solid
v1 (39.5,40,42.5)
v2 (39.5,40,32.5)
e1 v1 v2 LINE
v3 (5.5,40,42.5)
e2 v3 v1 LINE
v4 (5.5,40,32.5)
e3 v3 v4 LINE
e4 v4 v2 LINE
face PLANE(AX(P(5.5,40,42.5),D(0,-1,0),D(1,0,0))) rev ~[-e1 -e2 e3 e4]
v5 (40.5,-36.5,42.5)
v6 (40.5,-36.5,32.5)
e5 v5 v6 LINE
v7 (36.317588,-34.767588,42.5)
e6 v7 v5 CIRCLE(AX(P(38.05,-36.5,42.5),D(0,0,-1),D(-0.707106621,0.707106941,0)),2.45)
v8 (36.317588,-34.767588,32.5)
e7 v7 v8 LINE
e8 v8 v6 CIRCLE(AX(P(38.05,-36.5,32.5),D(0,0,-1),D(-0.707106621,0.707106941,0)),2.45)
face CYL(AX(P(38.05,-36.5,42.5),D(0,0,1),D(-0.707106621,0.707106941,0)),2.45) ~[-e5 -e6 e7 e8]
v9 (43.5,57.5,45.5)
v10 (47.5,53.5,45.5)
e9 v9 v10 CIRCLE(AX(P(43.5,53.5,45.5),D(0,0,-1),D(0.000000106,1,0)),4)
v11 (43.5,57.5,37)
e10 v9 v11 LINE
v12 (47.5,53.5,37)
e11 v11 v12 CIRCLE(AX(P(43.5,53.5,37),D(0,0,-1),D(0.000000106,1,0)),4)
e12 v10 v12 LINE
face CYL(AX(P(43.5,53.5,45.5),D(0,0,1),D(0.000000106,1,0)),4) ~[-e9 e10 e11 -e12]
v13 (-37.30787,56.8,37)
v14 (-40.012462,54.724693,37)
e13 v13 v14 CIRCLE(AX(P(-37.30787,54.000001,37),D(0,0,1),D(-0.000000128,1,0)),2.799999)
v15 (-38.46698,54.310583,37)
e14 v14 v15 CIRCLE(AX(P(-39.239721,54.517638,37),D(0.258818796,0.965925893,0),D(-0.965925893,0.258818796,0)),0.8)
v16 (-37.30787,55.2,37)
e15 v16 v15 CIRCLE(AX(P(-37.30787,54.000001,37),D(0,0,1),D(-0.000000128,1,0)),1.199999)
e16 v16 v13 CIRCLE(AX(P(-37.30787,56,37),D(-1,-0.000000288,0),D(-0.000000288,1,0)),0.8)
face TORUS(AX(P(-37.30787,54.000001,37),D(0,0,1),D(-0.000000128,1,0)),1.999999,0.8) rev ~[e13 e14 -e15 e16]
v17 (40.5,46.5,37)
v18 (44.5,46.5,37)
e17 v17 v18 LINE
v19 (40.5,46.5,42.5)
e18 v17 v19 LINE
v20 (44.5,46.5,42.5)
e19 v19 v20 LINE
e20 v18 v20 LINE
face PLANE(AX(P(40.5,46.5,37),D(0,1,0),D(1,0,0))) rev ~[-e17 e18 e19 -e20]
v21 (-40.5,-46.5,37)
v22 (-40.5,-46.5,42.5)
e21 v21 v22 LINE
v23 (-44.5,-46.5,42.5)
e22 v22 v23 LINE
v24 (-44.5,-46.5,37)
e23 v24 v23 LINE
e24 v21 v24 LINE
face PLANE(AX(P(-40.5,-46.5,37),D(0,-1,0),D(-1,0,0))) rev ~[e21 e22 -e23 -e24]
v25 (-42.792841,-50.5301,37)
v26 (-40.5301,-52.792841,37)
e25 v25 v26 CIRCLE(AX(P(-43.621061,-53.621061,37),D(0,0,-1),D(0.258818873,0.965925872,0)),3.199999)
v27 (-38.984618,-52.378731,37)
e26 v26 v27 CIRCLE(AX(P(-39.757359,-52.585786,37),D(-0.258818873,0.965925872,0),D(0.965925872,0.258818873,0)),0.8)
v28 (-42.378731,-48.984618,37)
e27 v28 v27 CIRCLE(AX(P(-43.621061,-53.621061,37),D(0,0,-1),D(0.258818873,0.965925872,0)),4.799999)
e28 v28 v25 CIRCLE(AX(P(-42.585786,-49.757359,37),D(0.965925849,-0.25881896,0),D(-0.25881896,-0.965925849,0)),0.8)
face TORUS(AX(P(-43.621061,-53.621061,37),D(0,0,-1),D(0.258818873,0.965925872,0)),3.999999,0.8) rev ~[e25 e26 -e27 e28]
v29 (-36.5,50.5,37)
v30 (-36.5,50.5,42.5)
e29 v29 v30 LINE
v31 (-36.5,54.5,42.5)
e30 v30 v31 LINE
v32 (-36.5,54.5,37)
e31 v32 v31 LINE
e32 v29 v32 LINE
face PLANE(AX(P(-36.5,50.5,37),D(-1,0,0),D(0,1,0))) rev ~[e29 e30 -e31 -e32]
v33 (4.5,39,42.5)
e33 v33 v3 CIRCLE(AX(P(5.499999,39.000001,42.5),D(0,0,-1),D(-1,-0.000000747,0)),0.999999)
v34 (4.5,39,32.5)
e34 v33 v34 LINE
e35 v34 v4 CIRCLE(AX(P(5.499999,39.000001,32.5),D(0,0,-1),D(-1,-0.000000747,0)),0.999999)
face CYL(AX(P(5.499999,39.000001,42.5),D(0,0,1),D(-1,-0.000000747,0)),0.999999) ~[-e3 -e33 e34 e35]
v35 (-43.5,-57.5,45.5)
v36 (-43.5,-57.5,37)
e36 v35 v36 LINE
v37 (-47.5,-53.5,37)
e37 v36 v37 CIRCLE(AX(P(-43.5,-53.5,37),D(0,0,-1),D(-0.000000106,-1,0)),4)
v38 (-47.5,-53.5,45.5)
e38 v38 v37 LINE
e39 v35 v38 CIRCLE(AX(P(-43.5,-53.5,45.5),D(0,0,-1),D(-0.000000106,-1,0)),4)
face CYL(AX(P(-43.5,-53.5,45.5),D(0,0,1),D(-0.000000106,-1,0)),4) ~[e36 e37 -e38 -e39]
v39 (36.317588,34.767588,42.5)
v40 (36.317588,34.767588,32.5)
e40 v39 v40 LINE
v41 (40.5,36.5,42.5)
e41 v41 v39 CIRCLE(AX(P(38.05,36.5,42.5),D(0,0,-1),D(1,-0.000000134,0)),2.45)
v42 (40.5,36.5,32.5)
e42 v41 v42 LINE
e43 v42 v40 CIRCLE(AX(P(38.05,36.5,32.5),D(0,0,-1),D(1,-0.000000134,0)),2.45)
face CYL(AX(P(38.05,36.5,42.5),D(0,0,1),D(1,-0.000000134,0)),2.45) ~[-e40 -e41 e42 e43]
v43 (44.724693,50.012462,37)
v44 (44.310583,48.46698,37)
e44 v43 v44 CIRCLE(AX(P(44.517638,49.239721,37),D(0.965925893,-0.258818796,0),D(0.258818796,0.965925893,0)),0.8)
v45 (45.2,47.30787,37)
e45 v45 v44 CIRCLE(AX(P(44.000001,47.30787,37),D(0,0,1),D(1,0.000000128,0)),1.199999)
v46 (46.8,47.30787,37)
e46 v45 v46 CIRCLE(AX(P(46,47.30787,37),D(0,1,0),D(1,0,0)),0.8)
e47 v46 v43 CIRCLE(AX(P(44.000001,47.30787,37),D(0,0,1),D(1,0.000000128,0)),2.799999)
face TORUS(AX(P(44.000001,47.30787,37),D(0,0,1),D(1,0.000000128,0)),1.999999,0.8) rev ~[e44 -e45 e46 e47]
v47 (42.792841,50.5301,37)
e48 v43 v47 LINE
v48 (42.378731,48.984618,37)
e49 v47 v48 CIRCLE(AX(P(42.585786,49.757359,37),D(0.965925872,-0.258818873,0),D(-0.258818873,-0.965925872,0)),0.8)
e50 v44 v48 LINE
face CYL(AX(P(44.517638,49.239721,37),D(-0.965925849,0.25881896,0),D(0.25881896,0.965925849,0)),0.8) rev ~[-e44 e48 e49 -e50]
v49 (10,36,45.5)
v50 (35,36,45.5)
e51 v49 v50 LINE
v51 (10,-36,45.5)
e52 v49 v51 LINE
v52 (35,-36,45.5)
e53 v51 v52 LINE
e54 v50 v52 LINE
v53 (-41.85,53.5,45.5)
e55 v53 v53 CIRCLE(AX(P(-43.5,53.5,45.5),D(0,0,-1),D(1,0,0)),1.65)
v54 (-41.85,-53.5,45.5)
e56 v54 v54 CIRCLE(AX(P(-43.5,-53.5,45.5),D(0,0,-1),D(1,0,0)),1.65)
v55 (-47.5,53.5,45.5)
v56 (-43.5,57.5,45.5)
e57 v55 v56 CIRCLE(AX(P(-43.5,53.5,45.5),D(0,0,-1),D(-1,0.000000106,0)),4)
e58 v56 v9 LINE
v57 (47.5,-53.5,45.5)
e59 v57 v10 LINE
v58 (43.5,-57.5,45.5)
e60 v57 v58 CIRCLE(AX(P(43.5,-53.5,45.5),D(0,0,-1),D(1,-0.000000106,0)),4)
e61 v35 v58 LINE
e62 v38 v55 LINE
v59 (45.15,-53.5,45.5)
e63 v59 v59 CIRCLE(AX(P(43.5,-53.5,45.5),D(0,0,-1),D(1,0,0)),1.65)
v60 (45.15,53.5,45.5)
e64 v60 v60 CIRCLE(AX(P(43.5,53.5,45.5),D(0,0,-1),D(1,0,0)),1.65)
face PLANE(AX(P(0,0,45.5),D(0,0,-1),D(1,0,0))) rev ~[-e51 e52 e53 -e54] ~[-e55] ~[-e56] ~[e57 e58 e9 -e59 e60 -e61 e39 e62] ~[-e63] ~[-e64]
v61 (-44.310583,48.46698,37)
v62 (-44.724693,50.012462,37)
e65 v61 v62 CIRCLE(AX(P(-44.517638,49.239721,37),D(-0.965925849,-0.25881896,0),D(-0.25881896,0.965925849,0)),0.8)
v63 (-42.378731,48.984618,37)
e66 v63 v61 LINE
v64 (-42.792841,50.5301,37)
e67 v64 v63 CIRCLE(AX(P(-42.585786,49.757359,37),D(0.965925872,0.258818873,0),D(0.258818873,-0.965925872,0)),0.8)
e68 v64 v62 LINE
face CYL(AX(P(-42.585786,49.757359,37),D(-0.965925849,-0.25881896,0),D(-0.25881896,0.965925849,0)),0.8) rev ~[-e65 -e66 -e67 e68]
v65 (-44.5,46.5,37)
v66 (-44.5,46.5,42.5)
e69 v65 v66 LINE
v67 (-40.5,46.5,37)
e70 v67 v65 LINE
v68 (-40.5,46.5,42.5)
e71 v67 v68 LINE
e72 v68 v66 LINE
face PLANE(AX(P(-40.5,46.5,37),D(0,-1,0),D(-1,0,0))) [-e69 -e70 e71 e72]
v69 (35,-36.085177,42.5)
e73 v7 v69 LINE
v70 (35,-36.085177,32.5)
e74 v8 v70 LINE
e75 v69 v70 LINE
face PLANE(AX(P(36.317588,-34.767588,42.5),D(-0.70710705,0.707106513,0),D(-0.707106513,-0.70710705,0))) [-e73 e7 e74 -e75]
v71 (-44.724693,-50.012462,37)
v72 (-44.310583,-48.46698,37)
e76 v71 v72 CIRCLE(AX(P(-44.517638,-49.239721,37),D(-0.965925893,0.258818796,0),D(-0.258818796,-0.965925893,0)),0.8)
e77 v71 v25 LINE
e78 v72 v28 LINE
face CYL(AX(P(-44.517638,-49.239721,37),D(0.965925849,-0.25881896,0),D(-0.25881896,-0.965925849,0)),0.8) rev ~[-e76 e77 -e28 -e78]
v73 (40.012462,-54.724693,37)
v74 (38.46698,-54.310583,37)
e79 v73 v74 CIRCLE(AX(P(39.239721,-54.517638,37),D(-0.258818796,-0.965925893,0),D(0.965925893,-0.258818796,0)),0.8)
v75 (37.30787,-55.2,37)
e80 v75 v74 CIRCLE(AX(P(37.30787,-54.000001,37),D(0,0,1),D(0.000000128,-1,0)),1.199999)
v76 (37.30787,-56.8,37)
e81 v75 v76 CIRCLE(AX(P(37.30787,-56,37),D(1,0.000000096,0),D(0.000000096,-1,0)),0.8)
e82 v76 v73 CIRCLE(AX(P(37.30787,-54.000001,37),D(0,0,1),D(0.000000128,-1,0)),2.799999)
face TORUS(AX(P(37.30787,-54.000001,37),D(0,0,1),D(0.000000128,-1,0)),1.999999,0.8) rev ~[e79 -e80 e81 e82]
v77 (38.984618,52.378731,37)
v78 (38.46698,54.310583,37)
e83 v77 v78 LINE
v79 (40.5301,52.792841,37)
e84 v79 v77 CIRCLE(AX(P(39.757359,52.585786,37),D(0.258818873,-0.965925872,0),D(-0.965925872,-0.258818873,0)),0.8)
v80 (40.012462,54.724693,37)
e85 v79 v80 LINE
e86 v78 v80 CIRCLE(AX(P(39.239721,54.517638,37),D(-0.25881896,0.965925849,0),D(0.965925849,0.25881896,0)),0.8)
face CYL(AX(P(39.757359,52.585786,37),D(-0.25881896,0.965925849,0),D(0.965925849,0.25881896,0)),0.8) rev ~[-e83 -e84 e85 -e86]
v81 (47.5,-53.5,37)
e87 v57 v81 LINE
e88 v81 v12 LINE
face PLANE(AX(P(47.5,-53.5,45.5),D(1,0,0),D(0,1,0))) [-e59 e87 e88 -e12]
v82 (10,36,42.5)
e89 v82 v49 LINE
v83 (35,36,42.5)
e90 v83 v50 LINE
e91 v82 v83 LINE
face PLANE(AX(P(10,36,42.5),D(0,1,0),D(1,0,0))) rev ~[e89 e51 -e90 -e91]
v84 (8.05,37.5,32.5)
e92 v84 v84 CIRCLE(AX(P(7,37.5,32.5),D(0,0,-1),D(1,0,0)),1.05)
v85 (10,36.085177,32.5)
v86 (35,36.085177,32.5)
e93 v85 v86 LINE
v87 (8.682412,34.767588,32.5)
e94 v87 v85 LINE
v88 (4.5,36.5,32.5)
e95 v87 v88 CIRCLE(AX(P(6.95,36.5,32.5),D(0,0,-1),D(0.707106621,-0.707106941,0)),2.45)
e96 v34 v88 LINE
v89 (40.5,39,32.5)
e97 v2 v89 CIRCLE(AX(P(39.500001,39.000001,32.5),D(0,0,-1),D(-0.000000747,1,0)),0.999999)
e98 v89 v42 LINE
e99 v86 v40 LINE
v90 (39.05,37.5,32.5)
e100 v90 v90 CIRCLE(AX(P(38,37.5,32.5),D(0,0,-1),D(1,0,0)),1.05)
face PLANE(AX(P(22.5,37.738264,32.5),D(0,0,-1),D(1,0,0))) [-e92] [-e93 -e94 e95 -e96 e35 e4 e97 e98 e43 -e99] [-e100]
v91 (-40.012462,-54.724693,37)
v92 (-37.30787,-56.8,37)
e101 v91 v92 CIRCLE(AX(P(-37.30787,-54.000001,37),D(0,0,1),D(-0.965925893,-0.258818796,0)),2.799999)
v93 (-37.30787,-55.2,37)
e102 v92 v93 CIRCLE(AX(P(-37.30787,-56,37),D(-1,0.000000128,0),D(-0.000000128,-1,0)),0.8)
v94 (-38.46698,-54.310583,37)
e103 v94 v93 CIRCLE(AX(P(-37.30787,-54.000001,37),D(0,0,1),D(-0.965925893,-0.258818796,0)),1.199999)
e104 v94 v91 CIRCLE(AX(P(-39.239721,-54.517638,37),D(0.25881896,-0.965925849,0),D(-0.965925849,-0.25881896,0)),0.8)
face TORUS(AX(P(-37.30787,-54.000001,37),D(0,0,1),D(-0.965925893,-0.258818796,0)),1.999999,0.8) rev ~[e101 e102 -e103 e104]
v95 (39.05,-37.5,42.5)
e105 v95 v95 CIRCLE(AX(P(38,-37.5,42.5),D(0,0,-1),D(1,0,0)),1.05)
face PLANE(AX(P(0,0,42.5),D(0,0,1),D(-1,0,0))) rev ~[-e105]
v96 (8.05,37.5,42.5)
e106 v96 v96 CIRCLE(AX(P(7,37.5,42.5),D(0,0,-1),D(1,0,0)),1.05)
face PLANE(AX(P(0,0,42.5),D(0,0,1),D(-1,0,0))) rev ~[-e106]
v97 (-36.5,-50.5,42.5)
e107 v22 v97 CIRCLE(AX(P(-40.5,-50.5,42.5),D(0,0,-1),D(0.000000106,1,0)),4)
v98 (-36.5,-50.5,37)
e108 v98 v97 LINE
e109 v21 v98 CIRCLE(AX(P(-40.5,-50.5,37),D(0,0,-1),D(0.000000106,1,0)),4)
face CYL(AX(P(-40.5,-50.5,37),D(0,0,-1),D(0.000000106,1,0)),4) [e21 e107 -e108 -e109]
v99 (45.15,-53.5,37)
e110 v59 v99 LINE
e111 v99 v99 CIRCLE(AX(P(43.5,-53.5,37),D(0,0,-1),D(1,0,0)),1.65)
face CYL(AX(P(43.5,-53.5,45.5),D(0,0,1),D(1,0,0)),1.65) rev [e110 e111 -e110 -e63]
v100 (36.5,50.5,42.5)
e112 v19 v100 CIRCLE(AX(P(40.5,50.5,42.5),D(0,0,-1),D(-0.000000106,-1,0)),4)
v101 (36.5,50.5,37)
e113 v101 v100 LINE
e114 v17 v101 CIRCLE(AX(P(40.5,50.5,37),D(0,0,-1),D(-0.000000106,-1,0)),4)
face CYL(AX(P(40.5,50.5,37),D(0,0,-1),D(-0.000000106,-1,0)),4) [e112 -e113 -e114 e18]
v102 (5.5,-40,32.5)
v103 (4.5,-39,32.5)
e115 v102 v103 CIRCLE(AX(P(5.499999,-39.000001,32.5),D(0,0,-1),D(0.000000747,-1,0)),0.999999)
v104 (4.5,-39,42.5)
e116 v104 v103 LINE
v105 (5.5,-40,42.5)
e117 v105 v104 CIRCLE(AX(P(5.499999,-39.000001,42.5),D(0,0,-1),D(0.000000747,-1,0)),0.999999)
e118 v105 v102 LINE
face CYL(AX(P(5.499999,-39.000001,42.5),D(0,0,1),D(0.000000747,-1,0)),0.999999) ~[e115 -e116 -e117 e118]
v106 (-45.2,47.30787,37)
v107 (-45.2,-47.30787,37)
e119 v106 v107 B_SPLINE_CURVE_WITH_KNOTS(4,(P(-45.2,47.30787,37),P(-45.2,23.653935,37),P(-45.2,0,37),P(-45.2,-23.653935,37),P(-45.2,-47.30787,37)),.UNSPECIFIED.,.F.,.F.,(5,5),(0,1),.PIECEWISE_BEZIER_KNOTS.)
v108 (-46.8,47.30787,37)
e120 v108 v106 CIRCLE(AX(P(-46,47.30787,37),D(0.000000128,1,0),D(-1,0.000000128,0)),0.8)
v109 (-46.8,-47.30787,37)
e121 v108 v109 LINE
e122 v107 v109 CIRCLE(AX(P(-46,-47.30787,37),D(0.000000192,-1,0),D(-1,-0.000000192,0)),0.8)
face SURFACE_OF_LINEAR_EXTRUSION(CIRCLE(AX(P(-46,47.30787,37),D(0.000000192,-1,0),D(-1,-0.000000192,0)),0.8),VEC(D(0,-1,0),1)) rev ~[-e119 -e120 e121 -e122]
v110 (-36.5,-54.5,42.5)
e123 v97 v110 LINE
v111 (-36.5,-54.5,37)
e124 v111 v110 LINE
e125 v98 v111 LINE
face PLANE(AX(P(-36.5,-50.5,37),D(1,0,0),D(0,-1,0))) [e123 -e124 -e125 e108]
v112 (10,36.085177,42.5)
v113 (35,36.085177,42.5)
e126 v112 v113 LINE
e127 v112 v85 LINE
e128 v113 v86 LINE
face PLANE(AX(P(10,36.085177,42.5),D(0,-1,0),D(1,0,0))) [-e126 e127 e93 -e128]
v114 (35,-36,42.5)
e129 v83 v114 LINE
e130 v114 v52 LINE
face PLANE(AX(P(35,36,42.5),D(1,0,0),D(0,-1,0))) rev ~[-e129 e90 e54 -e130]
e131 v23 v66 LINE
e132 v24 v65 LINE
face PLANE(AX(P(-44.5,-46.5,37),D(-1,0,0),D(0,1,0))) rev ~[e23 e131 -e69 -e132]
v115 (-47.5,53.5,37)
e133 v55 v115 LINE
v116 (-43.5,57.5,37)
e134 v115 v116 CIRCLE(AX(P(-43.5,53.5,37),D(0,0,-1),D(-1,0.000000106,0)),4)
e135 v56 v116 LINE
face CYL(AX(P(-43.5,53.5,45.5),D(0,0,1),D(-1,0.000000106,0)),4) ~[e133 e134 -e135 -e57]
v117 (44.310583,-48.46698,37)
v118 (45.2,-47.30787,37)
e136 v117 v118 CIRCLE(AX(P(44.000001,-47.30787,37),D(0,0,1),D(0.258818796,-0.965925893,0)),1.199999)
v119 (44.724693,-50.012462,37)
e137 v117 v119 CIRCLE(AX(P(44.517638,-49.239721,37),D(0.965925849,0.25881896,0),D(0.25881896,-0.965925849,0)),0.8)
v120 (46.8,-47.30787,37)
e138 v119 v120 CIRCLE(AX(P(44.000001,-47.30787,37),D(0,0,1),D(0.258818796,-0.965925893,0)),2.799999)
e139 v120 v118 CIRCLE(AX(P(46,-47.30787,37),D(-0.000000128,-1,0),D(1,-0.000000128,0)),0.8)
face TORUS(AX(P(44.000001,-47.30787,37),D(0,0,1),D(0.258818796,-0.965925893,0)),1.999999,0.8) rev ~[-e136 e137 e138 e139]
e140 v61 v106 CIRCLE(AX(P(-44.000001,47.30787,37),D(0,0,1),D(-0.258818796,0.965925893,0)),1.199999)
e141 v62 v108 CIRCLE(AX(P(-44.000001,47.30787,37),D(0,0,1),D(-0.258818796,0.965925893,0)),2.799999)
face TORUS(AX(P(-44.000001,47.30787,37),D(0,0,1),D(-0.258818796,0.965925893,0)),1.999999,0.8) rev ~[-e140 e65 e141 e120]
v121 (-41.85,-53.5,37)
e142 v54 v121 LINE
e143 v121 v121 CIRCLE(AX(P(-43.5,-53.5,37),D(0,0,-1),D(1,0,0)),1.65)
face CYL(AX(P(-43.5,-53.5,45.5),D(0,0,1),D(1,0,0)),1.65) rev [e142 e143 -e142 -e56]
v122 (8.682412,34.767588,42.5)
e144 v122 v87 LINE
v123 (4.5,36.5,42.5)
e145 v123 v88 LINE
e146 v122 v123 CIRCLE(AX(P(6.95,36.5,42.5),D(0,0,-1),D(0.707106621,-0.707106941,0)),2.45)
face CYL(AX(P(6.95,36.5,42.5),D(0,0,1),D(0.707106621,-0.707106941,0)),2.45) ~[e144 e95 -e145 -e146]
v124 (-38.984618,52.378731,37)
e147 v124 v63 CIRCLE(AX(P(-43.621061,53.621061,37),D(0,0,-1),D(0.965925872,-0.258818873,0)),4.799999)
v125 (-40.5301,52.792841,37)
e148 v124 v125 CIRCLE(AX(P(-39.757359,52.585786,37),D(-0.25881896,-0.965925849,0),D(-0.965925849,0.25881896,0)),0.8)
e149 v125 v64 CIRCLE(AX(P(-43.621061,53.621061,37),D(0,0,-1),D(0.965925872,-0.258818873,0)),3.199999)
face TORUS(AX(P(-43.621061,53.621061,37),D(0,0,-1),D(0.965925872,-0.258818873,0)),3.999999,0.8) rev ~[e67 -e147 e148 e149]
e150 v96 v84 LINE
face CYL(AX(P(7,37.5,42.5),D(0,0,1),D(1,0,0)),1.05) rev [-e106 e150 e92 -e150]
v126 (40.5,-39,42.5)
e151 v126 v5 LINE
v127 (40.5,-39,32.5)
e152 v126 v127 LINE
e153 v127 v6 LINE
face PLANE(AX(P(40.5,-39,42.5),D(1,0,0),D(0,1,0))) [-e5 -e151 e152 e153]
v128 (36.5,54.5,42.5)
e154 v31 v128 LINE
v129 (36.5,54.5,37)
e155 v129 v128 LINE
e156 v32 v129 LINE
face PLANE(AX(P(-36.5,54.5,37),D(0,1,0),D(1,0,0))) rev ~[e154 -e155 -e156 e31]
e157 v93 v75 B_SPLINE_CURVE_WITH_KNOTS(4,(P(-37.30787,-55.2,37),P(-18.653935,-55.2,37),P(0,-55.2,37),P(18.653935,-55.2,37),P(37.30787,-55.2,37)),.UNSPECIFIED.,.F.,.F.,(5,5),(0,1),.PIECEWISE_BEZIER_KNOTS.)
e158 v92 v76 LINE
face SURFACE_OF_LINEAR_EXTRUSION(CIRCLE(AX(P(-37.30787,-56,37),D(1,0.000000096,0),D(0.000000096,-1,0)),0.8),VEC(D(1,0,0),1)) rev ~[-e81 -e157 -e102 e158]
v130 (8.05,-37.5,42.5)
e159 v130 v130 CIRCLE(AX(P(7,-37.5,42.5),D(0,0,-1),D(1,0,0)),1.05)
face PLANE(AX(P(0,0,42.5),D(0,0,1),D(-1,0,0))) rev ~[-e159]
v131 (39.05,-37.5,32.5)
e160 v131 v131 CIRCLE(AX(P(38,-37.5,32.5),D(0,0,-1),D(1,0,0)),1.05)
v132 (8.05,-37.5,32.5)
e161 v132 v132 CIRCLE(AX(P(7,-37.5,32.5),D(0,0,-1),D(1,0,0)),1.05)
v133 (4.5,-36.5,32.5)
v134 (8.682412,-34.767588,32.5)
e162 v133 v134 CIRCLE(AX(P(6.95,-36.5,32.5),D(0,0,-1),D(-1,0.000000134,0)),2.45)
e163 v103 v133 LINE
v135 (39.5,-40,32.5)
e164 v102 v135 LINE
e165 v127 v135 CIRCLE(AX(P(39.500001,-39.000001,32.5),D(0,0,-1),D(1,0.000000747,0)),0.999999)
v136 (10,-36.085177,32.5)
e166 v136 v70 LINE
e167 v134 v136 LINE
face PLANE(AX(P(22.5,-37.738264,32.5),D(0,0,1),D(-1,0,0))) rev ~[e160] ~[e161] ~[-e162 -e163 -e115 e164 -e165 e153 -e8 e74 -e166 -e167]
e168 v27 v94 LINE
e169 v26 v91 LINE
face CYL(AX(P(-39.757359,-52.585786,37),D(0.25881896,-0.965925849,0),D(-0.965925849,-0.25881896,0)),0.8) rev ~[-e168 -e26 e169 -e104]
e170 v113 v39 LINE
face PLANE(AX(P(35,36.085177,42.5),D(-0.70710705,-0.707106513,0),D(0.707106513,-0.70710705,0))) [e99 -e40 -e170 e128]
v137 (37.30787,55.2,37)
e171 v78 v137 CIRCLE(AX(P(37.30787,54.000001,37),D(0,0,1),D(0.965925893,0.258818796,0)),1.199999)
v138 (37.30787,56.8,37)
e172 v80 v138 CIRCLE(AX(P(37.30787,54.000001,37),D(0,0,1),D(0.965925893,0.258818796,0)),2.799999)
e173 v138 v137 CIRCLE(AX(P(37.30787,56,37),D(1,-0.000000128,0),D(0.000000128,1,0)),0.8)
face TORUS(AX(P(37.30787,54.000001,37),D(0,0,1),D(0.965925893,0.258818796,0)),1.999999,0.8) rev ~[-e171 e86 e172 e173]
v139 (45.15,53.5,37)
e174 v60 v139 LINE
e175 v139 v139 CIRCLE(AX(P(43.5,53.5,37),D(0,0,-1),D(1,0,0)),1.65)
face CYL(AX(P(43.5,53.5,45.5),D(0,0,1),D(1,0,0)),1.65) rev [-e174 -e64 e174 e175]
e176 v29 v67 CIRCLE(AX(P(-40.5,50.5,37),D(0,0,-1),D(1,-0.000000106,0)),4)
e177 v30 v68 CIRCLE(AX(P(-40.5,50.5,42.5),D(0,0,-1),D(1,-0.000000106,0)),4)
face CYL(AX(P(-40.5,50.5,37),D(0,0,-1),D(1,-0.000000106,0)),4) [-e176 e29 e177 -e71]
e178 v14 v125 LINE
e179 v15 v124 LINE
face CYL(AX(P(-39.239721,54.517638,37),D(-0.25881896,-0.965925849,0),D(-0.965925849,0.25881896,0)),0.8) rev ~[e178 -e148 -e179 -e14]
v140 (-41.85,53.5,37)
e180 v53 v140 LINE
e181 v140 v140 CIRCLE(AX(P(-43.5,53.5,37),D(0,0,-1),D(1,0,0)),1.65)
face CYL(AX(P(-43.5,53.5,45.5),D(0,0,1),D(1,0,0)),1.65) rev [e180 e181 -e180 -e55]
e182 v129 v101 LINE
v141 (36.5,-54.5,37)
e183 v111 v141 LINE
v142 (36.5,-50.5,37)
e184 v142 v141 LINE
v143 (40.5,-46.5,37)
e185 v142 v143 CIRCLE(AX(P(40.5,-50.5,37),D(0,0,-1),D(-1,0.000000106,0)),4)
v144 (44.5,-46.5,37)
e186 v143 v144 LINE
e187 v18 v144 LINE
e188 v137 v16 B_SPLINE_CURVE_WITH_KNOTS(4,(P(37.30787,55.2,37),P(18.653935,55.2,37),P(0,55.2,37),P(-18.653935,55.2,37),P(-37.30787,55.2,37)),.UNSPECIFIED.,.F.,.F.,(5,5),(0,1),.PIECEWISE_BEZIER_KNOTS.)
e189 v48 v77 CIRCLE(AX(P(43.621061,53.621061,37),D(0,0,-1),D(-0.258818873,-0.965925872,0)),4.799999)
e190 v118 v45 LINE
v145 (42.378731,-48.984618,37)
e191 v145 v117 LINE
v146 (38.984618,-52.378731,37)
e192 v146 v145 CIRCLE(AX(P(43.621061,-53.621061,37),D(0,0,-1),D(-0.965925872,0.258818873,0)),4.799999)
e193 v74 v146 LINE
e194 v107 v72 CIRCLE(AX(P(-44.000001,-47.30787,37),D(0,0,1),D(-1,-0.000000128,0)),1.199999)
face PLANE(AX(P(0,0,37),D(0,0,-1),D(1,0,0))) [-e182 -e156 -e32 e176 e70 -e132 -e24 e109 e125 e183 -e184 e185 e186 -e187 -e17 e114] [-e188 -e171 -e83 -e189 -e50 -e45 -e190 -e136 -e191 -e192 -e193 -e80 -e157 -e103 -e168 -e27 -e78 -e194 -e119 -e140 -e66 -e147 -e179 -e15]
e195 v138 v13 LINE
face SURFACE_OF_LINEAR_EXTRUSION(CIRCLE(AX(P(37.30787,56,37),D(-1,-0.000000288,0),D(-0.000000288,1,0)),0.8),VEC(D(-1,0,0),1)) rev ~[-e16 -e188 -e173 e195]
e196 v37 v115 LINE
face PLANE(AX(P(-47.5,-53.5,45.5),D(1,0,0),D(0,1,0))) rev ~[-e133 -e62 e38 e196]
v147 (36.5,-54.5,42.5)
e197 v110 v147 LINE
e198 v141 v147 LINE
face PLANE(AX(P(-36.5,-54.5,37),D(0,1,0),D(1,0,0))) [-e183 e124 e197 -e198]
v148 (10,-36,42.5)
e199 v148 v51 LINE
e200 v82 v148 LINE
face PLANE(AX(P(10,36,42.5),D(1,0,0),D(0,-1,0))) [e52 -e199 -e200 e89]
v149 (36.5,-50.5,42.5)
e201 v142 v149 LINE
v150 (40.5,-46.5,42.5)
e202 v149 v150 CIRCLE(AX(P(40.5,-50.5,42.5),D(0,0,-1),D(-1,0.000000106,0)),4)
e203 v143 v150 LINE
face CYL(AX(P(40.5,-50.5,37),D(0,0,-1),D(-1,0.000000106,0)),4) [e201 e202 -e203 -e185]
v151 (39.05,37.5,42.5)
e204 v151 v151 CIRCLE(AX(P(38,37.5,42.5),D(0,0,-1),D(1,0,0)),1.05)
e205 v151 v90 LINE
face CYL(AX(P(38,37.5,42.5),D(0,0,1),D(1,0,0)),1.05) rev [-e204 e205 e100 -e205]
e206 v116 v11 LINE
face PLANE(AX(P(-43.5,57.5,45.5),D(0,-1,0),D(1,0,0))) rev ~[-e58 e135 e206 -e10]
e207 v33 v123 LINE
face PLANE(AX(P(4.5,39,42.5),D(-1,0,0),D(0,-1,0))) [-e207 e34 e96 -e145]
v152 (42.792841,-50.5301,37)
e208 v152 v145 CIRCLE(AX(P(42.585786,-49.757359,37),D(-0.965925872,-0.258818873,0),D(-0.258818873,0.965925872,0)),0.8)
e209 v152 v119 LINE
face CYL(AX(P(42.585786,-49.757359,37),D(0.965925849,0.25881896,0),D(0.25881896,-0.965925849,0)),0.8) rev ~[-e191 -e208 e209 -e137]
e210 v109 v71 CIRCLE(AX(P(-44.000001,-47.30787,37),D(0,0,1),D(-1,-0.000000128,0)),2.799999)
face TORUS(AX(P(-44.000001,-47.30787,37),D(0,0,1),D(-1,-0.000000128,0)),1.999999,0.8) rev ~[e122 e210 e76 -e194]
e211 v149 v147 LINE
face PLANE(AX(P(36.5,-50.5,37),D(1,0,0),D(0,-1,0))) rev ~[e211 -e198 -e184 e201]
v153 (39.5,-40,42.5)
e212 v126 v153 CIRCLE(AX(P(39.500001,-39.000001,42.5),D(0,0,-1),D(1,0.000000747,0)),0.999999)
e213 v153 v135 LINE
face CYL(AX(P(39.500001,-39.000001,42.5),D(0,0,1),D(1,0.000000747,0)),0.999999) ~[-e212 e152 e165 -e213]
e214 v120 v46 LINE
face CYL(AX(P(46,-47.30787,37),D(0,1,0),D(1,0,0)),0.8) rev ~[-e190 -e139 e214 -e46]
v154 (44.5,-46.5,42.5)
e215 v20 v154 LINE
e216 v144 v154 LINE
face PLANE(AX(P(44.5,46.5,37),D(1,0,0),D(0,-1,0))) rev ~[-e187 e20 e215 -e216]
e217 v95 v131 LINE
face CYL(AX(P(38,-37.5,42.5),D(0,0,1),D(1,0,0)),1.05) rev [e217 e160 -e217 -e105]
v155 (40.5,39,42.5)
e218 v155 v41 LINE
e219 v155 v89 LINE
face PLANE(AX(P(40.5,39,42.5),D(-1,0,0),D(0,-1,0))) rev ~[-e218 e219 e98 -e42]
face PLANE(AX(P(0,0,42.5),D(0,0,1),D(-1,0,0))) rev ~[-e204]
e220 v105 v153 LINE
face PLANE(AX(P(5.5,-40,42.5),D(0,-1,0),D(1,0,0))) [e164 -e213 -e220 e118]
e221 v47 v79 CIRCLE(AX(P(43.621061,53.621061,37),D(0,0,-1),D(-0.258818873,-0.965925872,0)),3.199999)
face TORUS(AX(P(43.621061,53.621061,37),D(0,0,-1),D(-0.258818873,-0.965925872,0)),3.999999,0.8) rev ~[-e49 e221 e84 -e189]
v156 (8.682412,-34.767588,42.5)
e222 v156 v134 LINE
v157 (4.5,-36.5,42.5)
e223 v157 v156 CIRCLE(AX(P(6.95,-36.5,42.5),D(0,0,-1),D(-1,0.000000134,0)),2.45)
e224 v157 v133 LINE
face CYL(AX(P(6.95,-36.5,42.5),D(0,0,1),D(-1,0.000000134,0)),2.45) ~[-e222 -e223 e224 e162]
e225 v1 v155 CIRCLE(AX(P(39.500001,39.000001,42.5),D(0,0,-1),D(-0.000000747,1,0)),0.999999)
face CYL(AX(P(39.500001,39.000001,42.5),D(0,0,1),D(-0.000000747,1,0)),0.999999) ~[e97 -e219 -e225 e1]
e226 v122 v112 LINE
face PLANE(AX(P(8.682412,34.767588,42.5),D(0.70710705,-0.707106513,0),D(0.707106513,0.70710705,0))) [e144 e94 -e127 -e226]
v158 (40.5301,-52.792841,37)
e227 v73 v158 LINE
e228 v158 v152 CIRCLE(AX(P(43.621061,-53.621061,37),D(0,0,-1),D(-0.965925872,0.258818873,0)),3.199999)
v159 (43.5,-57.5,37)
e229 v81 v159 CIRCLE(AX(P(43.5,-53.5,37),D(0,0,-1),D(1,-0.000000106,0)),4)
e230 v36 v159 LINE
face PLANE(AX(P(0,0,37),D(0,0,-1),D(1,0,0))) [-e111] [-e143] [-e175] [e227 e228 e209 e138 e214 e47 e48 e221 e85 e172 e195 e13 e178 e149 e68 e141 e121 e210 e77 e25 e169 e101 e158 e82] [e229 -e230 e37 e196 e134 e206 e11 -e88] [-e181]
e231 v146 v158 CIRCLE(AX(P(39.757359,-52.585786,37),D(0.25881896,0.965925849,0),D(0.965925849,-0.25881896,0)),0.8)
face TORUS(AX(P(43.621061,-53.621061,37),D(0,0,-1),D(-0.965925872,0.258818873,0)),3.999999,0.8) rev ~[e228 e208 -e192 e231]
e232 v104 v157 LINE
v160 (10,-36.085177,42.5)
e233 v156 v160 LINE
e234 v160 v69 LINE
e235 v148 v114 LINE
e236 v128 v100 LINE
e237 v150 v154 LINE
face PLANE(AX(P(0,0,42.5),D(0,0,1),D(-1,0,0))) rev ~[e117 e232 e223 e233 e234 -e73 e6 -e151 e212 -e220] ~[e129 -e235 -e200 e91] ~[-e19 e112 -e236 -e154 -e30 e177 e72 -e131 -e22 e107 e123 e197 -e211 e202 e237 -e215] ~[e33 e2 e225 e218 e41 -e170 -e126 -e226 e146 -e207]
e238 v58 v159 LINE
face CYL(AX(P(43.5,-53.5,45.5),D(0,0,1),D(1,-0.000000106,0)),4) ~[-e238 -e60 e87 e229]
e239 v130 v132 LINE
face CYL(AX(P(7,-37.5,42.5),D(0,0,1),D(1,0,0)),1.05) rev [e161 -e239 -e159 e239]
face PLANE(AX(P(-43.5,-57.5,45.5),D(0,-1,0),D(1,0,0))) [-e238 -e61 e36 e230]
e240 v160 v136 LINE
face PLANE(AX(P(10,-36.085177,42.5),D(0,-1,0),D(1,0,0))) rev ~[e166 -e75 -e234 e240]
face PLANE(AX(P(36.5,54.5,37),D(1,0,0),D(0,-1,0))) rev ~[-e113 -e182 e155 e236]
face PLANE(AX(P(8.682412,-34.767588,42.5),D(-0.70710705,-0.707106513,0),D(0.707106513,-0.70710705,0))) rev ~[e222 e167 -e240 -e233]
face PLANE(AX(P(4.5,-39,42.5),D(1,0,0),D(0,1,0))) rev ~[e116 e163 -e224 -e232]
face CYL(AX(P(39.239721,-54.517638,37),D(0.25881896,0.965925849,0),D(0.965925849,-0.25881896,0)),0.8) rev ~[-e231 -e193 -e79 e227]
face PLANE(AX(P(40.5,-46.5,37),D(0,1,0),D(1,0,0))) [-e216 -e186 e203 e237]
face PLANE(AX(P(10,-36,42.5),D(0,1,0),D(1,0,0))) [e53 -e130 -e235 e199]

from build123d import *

# Parameters (mm, degrees)
SKETCH005_R             = 1.65
PAD001_DEPTH            = 8.5
POCKET001_DEPTH         = 5.5
SKETCH008_R             = 0.8
SKETCH011_W             = 25
SKETCH011_H             = 72
POCKET003_DEPTH         = 6
SKETCH012_R             = 1.05
PAD003_DEPTH            = 10
BODY001_PLACEMENT_ANGLE = 180


with BuildPart() as part:
    # Sketch005 → Pad001 (new body)
    with BuildSketch(Plane.XY):
        with BuildLine():
            Line((-47.5, 53.5), (-47.5, -53.5))
            ThreePointArc((-47.5, -53.5), (-46.328427, -56.328427), (-43.5, -57.5))
            Line((-43.5, -57.5), (43.5, -57.5))
            ThreePointArc((43.5, -57.5), (46.328427, -56.328427), (47.5, -53.5))
            Line((47.5, 53.5), (47.5, -53.5))
            ThreePointArc((47.5, 53.5), (46.328427, 56.328427), (43.5, 57.5))
            Line((-43.5, 57.5), (43.5, 57.5))
            ThreePointArc((-43.5, 57.5), (-46.328427, 56.328427), (-47.5, 53.5))
        make_face()
        with Locations((-43.5, 53.5)):
            Circle(SKETCH005_R, mode=Mode.SUBTRACT)
        with Locations((43.5, -53.5)):
            Circle(SKETCH005_R, mode=Mode.SUBTRACT)
        with Locations((-43.5, -53.5)):
            Circle(SKETCH005_R, mode=Mode.SUBTRACT)
        with Locations((43.5, 53.5)):
            Circle(SKETCH005_R, mode=Mode.SUBTRACT)
    extrude(amount=PAD001_DEPTH)

    # Sketch006 (on Face14 of Pad001) → Pocket001 (cut)
    with BuildSketch(Plane.XY.offset(8.5)):
        with BuildLine():
            ThreePointArc((-40.5, 46.5), (-37.671573, 47.671573), (-36.5, 50.5))
            Line((-36.5, 50.5), (-36.5, 54.5))
            Line((-36.5, 54.5), (36.5, 54.5))
            Line((36.5, 50.5), (36.5, 54.5))
            ThreePointArc((36.5, 50.5), (37.671573, 47.671573), (40.5, 46.5))
            Line((40.5, 46.5), (44.5, 46.5))
            Line((44.5, -46.5), (44.5, 46.5))
            Line((40.5, -46.5), (44.5, -46.5))
            ThreePointArc((40.5, -46.5), (37.671573, -47.671573), (36.5, -50.5))
            Line((36.5, -54.5), (36.5, -50.5))
            Line((-36.5, -54.5), (36.5, -54.5))
            Line((-36.5, -50.5), (-36.5, -54.5))
            ThreePointArc((-36.5, -50.5), (-37.671573, -47.671573), (-40.5, -46.5))
            Line((-40.5, -46.5), (-44.5, -46.5))
            Line((-44.5, 46.5), (-44.5, -46.5))
            Line((-40.5, 46.5), (-44.5, 46.5))
        make_face()
    extrude(amount=-POCKET001_DEPTH, mode=Mode.SUBTRACT)

    # SubtractivePipe001: sweep along a path in Sketch007
    with BuildLine(Plane.XY) as subtractivepipe001_path:
        ThreePointArc((42.585786, -49.757359), (40.792635, -50.792635), (39.757359, -52.585786))
        Line((39.757359, -52.585786), (39.239721, -54.517638))
        ThreePointArc((39.239721, -54.517638), (38.525392, -55.586707), (37.30787, -56))
        Line((37.30787, -56), (-37.30787, -56))
        ThreePointArc((-37.30787, -56), (-38.525392, -55.586707), (-39.239721, -54.517638))
        Line((-39.239721, -54.517638), (-39.757359, -52.585786))
        ThreePointArc((-39.757359, -52.585786), (-40.792635, -50.792635), (-42.585786, -49.757359))
        Line((-42.585786, -49.757359), (-44.517638, -49.239721))
        ThreePointArc((-44.517638, -49.239721), (-45.586707, -48.525392), (-46, -47.30787))
        Line((-46, -47.30787), (-46, 47.30787))
        ThreePointArc((-46, 47.30787), (-45.586707, 48.525392), (-44.517638, 49.239721))
        Line((-44.517638, 49.239721), (-42.585786, 49.757359))
        ThreePointArc((-42.585786, 49.757359), (-40.792635, 50.792635), (-39.757359, 52.585786))
        Line((-39.757359, 52.585786), (-39.239721, 54.517638))
        ThreePointArc((-39.239721, 54.517638), (-38.525392, 55.586707), (-37.30787, 56))
        Line((-37.30787, 56), (37.30787, 56))
        ThreePointArc((37.30787, 56), (38.525392, 55.586707), (39.239721, 54.517638))
        Line((39.239721, 54.517638), (39.757359, 52.585786))
        ThreePointArc((39.757359, 52.585786), (40.792635, 50.792635), (42.585786, 49.757359))
        Line((42.585786, 49.757359), (44.517638, 49.239721))
        ThreePointArc((44.517638, 49.239721), (45.586707, 48.525392), (46, 47.30787))
        Line((46, 47.30787), (46, -47.30787))
        ThreePointArc((46, -47.30787), (45.586707, -48.525392), (44.517638, -49.239721))
        Line((44.517638, -49.239721), (42.585786, -49.757359))
    # Sketch008 → SubtractivePipe001 (sweep, cut)
    with BuildSketch(Plane.XZ):
        with Locations((46, 8.5)):
            Circle(SKETCH008_R)
    sweep(path=subtractivepipe001_path.line, mode=Mode.SUBTRACT)

    # Sketch011 (on Face56 of SubtractivePipe001) → Pocket003 (cut)
    with BuildSketch(Plane.XY.offset(3)):
        with Locations((22.5, 0)):
            Rectangle(SKETCH011_W, SKETCH011_H)
    extrude(amount=-POCKET003_DEPTH, mode=Mode.SUBTRACT)

    # Sketch012 (on Face43 of Pocket003) → Pad003 (join)
    with BuildSketch(Plane.XY.offset(3)):
        with BuildLine():
            Line((5.5, 40), (39.5, 40))
            ThreePointArc((40.5, 39), (40.207107, 39.707107), (39.5, 40))
            Line((40.5, 39), (40.5, 36.5))
            ThreePointArc((36.317588, 34.767588), (38.987574, 34.236495), (40.5, 36.5))
            Line((36.317588, 34.767588), (35, 36.085177))
            Line((10, 36.085177), (35, 36.085177))
            Line((8.682412, 34.767588), (10, 36.085177))
            ThreePointArc((4.5, 36.5), (6.012426, 34.236495), (8.682412, 34.767588))
            Line((4.5, 39), (4.5, 36.5))
            ThreePointArc((5.5, 40), (4.792893, 39.707107), (4.5, 39))
        make_face()
        with Locations((38, 37.5)):
            Circle(SKETCH012_R, mode=Mode.SUBTRACT)
        with Locations((7, 37.5)):
            Circle(SKETCH012_R, mode=Mode.SUBTRACT)
        with BuildLine():
            Line((5.5, -40), (39.5, -40))
            ThreePointArc((39.5, -40), (40.207107, -39.707107), (40.5, -39))
            Line((40.5, -39), (40.5, -36.5))
            ThreePointArc((40.5, -36.5), (38.987574, -34.236495), (36.317588, -34.767588))
            Line((35, -36.085177), (36.317588, -34.767588))
            Line((10, -36.085177), (35, -36.085177))
            Line((8.682412, -34.767588), (10, -36.085177))
            ThreePointArc((8.682412, -34.767588), (6.012426, -34.236495), (4.5, -36.5))
            Line((4.5, -39), (4.5, -36.5))
            ThreePointArc((4.5, -39), (4.792893, -39.707107), (5.5, -40))
        make_face()
        with Locations((7, -37.5)):
            Circle(SKETCH012_R, mode=Mode.SUBTRACT)
        with Locations((38, -37.5)):
            Circle(SKETCH012_R, mode=Mode.SUBTRACT)
    extrude(amount=PAD003_DEPTH)


with BuildPart() as part_1:
    # Body001 placement: moved
    add(part.part.moved(Location((0, 0, 45.5))).rotate(Axis((0, 0, 45.5), (1, 0, 0)), BODY001_PLACEMENT_ANGLE))


solid = part_1.part
